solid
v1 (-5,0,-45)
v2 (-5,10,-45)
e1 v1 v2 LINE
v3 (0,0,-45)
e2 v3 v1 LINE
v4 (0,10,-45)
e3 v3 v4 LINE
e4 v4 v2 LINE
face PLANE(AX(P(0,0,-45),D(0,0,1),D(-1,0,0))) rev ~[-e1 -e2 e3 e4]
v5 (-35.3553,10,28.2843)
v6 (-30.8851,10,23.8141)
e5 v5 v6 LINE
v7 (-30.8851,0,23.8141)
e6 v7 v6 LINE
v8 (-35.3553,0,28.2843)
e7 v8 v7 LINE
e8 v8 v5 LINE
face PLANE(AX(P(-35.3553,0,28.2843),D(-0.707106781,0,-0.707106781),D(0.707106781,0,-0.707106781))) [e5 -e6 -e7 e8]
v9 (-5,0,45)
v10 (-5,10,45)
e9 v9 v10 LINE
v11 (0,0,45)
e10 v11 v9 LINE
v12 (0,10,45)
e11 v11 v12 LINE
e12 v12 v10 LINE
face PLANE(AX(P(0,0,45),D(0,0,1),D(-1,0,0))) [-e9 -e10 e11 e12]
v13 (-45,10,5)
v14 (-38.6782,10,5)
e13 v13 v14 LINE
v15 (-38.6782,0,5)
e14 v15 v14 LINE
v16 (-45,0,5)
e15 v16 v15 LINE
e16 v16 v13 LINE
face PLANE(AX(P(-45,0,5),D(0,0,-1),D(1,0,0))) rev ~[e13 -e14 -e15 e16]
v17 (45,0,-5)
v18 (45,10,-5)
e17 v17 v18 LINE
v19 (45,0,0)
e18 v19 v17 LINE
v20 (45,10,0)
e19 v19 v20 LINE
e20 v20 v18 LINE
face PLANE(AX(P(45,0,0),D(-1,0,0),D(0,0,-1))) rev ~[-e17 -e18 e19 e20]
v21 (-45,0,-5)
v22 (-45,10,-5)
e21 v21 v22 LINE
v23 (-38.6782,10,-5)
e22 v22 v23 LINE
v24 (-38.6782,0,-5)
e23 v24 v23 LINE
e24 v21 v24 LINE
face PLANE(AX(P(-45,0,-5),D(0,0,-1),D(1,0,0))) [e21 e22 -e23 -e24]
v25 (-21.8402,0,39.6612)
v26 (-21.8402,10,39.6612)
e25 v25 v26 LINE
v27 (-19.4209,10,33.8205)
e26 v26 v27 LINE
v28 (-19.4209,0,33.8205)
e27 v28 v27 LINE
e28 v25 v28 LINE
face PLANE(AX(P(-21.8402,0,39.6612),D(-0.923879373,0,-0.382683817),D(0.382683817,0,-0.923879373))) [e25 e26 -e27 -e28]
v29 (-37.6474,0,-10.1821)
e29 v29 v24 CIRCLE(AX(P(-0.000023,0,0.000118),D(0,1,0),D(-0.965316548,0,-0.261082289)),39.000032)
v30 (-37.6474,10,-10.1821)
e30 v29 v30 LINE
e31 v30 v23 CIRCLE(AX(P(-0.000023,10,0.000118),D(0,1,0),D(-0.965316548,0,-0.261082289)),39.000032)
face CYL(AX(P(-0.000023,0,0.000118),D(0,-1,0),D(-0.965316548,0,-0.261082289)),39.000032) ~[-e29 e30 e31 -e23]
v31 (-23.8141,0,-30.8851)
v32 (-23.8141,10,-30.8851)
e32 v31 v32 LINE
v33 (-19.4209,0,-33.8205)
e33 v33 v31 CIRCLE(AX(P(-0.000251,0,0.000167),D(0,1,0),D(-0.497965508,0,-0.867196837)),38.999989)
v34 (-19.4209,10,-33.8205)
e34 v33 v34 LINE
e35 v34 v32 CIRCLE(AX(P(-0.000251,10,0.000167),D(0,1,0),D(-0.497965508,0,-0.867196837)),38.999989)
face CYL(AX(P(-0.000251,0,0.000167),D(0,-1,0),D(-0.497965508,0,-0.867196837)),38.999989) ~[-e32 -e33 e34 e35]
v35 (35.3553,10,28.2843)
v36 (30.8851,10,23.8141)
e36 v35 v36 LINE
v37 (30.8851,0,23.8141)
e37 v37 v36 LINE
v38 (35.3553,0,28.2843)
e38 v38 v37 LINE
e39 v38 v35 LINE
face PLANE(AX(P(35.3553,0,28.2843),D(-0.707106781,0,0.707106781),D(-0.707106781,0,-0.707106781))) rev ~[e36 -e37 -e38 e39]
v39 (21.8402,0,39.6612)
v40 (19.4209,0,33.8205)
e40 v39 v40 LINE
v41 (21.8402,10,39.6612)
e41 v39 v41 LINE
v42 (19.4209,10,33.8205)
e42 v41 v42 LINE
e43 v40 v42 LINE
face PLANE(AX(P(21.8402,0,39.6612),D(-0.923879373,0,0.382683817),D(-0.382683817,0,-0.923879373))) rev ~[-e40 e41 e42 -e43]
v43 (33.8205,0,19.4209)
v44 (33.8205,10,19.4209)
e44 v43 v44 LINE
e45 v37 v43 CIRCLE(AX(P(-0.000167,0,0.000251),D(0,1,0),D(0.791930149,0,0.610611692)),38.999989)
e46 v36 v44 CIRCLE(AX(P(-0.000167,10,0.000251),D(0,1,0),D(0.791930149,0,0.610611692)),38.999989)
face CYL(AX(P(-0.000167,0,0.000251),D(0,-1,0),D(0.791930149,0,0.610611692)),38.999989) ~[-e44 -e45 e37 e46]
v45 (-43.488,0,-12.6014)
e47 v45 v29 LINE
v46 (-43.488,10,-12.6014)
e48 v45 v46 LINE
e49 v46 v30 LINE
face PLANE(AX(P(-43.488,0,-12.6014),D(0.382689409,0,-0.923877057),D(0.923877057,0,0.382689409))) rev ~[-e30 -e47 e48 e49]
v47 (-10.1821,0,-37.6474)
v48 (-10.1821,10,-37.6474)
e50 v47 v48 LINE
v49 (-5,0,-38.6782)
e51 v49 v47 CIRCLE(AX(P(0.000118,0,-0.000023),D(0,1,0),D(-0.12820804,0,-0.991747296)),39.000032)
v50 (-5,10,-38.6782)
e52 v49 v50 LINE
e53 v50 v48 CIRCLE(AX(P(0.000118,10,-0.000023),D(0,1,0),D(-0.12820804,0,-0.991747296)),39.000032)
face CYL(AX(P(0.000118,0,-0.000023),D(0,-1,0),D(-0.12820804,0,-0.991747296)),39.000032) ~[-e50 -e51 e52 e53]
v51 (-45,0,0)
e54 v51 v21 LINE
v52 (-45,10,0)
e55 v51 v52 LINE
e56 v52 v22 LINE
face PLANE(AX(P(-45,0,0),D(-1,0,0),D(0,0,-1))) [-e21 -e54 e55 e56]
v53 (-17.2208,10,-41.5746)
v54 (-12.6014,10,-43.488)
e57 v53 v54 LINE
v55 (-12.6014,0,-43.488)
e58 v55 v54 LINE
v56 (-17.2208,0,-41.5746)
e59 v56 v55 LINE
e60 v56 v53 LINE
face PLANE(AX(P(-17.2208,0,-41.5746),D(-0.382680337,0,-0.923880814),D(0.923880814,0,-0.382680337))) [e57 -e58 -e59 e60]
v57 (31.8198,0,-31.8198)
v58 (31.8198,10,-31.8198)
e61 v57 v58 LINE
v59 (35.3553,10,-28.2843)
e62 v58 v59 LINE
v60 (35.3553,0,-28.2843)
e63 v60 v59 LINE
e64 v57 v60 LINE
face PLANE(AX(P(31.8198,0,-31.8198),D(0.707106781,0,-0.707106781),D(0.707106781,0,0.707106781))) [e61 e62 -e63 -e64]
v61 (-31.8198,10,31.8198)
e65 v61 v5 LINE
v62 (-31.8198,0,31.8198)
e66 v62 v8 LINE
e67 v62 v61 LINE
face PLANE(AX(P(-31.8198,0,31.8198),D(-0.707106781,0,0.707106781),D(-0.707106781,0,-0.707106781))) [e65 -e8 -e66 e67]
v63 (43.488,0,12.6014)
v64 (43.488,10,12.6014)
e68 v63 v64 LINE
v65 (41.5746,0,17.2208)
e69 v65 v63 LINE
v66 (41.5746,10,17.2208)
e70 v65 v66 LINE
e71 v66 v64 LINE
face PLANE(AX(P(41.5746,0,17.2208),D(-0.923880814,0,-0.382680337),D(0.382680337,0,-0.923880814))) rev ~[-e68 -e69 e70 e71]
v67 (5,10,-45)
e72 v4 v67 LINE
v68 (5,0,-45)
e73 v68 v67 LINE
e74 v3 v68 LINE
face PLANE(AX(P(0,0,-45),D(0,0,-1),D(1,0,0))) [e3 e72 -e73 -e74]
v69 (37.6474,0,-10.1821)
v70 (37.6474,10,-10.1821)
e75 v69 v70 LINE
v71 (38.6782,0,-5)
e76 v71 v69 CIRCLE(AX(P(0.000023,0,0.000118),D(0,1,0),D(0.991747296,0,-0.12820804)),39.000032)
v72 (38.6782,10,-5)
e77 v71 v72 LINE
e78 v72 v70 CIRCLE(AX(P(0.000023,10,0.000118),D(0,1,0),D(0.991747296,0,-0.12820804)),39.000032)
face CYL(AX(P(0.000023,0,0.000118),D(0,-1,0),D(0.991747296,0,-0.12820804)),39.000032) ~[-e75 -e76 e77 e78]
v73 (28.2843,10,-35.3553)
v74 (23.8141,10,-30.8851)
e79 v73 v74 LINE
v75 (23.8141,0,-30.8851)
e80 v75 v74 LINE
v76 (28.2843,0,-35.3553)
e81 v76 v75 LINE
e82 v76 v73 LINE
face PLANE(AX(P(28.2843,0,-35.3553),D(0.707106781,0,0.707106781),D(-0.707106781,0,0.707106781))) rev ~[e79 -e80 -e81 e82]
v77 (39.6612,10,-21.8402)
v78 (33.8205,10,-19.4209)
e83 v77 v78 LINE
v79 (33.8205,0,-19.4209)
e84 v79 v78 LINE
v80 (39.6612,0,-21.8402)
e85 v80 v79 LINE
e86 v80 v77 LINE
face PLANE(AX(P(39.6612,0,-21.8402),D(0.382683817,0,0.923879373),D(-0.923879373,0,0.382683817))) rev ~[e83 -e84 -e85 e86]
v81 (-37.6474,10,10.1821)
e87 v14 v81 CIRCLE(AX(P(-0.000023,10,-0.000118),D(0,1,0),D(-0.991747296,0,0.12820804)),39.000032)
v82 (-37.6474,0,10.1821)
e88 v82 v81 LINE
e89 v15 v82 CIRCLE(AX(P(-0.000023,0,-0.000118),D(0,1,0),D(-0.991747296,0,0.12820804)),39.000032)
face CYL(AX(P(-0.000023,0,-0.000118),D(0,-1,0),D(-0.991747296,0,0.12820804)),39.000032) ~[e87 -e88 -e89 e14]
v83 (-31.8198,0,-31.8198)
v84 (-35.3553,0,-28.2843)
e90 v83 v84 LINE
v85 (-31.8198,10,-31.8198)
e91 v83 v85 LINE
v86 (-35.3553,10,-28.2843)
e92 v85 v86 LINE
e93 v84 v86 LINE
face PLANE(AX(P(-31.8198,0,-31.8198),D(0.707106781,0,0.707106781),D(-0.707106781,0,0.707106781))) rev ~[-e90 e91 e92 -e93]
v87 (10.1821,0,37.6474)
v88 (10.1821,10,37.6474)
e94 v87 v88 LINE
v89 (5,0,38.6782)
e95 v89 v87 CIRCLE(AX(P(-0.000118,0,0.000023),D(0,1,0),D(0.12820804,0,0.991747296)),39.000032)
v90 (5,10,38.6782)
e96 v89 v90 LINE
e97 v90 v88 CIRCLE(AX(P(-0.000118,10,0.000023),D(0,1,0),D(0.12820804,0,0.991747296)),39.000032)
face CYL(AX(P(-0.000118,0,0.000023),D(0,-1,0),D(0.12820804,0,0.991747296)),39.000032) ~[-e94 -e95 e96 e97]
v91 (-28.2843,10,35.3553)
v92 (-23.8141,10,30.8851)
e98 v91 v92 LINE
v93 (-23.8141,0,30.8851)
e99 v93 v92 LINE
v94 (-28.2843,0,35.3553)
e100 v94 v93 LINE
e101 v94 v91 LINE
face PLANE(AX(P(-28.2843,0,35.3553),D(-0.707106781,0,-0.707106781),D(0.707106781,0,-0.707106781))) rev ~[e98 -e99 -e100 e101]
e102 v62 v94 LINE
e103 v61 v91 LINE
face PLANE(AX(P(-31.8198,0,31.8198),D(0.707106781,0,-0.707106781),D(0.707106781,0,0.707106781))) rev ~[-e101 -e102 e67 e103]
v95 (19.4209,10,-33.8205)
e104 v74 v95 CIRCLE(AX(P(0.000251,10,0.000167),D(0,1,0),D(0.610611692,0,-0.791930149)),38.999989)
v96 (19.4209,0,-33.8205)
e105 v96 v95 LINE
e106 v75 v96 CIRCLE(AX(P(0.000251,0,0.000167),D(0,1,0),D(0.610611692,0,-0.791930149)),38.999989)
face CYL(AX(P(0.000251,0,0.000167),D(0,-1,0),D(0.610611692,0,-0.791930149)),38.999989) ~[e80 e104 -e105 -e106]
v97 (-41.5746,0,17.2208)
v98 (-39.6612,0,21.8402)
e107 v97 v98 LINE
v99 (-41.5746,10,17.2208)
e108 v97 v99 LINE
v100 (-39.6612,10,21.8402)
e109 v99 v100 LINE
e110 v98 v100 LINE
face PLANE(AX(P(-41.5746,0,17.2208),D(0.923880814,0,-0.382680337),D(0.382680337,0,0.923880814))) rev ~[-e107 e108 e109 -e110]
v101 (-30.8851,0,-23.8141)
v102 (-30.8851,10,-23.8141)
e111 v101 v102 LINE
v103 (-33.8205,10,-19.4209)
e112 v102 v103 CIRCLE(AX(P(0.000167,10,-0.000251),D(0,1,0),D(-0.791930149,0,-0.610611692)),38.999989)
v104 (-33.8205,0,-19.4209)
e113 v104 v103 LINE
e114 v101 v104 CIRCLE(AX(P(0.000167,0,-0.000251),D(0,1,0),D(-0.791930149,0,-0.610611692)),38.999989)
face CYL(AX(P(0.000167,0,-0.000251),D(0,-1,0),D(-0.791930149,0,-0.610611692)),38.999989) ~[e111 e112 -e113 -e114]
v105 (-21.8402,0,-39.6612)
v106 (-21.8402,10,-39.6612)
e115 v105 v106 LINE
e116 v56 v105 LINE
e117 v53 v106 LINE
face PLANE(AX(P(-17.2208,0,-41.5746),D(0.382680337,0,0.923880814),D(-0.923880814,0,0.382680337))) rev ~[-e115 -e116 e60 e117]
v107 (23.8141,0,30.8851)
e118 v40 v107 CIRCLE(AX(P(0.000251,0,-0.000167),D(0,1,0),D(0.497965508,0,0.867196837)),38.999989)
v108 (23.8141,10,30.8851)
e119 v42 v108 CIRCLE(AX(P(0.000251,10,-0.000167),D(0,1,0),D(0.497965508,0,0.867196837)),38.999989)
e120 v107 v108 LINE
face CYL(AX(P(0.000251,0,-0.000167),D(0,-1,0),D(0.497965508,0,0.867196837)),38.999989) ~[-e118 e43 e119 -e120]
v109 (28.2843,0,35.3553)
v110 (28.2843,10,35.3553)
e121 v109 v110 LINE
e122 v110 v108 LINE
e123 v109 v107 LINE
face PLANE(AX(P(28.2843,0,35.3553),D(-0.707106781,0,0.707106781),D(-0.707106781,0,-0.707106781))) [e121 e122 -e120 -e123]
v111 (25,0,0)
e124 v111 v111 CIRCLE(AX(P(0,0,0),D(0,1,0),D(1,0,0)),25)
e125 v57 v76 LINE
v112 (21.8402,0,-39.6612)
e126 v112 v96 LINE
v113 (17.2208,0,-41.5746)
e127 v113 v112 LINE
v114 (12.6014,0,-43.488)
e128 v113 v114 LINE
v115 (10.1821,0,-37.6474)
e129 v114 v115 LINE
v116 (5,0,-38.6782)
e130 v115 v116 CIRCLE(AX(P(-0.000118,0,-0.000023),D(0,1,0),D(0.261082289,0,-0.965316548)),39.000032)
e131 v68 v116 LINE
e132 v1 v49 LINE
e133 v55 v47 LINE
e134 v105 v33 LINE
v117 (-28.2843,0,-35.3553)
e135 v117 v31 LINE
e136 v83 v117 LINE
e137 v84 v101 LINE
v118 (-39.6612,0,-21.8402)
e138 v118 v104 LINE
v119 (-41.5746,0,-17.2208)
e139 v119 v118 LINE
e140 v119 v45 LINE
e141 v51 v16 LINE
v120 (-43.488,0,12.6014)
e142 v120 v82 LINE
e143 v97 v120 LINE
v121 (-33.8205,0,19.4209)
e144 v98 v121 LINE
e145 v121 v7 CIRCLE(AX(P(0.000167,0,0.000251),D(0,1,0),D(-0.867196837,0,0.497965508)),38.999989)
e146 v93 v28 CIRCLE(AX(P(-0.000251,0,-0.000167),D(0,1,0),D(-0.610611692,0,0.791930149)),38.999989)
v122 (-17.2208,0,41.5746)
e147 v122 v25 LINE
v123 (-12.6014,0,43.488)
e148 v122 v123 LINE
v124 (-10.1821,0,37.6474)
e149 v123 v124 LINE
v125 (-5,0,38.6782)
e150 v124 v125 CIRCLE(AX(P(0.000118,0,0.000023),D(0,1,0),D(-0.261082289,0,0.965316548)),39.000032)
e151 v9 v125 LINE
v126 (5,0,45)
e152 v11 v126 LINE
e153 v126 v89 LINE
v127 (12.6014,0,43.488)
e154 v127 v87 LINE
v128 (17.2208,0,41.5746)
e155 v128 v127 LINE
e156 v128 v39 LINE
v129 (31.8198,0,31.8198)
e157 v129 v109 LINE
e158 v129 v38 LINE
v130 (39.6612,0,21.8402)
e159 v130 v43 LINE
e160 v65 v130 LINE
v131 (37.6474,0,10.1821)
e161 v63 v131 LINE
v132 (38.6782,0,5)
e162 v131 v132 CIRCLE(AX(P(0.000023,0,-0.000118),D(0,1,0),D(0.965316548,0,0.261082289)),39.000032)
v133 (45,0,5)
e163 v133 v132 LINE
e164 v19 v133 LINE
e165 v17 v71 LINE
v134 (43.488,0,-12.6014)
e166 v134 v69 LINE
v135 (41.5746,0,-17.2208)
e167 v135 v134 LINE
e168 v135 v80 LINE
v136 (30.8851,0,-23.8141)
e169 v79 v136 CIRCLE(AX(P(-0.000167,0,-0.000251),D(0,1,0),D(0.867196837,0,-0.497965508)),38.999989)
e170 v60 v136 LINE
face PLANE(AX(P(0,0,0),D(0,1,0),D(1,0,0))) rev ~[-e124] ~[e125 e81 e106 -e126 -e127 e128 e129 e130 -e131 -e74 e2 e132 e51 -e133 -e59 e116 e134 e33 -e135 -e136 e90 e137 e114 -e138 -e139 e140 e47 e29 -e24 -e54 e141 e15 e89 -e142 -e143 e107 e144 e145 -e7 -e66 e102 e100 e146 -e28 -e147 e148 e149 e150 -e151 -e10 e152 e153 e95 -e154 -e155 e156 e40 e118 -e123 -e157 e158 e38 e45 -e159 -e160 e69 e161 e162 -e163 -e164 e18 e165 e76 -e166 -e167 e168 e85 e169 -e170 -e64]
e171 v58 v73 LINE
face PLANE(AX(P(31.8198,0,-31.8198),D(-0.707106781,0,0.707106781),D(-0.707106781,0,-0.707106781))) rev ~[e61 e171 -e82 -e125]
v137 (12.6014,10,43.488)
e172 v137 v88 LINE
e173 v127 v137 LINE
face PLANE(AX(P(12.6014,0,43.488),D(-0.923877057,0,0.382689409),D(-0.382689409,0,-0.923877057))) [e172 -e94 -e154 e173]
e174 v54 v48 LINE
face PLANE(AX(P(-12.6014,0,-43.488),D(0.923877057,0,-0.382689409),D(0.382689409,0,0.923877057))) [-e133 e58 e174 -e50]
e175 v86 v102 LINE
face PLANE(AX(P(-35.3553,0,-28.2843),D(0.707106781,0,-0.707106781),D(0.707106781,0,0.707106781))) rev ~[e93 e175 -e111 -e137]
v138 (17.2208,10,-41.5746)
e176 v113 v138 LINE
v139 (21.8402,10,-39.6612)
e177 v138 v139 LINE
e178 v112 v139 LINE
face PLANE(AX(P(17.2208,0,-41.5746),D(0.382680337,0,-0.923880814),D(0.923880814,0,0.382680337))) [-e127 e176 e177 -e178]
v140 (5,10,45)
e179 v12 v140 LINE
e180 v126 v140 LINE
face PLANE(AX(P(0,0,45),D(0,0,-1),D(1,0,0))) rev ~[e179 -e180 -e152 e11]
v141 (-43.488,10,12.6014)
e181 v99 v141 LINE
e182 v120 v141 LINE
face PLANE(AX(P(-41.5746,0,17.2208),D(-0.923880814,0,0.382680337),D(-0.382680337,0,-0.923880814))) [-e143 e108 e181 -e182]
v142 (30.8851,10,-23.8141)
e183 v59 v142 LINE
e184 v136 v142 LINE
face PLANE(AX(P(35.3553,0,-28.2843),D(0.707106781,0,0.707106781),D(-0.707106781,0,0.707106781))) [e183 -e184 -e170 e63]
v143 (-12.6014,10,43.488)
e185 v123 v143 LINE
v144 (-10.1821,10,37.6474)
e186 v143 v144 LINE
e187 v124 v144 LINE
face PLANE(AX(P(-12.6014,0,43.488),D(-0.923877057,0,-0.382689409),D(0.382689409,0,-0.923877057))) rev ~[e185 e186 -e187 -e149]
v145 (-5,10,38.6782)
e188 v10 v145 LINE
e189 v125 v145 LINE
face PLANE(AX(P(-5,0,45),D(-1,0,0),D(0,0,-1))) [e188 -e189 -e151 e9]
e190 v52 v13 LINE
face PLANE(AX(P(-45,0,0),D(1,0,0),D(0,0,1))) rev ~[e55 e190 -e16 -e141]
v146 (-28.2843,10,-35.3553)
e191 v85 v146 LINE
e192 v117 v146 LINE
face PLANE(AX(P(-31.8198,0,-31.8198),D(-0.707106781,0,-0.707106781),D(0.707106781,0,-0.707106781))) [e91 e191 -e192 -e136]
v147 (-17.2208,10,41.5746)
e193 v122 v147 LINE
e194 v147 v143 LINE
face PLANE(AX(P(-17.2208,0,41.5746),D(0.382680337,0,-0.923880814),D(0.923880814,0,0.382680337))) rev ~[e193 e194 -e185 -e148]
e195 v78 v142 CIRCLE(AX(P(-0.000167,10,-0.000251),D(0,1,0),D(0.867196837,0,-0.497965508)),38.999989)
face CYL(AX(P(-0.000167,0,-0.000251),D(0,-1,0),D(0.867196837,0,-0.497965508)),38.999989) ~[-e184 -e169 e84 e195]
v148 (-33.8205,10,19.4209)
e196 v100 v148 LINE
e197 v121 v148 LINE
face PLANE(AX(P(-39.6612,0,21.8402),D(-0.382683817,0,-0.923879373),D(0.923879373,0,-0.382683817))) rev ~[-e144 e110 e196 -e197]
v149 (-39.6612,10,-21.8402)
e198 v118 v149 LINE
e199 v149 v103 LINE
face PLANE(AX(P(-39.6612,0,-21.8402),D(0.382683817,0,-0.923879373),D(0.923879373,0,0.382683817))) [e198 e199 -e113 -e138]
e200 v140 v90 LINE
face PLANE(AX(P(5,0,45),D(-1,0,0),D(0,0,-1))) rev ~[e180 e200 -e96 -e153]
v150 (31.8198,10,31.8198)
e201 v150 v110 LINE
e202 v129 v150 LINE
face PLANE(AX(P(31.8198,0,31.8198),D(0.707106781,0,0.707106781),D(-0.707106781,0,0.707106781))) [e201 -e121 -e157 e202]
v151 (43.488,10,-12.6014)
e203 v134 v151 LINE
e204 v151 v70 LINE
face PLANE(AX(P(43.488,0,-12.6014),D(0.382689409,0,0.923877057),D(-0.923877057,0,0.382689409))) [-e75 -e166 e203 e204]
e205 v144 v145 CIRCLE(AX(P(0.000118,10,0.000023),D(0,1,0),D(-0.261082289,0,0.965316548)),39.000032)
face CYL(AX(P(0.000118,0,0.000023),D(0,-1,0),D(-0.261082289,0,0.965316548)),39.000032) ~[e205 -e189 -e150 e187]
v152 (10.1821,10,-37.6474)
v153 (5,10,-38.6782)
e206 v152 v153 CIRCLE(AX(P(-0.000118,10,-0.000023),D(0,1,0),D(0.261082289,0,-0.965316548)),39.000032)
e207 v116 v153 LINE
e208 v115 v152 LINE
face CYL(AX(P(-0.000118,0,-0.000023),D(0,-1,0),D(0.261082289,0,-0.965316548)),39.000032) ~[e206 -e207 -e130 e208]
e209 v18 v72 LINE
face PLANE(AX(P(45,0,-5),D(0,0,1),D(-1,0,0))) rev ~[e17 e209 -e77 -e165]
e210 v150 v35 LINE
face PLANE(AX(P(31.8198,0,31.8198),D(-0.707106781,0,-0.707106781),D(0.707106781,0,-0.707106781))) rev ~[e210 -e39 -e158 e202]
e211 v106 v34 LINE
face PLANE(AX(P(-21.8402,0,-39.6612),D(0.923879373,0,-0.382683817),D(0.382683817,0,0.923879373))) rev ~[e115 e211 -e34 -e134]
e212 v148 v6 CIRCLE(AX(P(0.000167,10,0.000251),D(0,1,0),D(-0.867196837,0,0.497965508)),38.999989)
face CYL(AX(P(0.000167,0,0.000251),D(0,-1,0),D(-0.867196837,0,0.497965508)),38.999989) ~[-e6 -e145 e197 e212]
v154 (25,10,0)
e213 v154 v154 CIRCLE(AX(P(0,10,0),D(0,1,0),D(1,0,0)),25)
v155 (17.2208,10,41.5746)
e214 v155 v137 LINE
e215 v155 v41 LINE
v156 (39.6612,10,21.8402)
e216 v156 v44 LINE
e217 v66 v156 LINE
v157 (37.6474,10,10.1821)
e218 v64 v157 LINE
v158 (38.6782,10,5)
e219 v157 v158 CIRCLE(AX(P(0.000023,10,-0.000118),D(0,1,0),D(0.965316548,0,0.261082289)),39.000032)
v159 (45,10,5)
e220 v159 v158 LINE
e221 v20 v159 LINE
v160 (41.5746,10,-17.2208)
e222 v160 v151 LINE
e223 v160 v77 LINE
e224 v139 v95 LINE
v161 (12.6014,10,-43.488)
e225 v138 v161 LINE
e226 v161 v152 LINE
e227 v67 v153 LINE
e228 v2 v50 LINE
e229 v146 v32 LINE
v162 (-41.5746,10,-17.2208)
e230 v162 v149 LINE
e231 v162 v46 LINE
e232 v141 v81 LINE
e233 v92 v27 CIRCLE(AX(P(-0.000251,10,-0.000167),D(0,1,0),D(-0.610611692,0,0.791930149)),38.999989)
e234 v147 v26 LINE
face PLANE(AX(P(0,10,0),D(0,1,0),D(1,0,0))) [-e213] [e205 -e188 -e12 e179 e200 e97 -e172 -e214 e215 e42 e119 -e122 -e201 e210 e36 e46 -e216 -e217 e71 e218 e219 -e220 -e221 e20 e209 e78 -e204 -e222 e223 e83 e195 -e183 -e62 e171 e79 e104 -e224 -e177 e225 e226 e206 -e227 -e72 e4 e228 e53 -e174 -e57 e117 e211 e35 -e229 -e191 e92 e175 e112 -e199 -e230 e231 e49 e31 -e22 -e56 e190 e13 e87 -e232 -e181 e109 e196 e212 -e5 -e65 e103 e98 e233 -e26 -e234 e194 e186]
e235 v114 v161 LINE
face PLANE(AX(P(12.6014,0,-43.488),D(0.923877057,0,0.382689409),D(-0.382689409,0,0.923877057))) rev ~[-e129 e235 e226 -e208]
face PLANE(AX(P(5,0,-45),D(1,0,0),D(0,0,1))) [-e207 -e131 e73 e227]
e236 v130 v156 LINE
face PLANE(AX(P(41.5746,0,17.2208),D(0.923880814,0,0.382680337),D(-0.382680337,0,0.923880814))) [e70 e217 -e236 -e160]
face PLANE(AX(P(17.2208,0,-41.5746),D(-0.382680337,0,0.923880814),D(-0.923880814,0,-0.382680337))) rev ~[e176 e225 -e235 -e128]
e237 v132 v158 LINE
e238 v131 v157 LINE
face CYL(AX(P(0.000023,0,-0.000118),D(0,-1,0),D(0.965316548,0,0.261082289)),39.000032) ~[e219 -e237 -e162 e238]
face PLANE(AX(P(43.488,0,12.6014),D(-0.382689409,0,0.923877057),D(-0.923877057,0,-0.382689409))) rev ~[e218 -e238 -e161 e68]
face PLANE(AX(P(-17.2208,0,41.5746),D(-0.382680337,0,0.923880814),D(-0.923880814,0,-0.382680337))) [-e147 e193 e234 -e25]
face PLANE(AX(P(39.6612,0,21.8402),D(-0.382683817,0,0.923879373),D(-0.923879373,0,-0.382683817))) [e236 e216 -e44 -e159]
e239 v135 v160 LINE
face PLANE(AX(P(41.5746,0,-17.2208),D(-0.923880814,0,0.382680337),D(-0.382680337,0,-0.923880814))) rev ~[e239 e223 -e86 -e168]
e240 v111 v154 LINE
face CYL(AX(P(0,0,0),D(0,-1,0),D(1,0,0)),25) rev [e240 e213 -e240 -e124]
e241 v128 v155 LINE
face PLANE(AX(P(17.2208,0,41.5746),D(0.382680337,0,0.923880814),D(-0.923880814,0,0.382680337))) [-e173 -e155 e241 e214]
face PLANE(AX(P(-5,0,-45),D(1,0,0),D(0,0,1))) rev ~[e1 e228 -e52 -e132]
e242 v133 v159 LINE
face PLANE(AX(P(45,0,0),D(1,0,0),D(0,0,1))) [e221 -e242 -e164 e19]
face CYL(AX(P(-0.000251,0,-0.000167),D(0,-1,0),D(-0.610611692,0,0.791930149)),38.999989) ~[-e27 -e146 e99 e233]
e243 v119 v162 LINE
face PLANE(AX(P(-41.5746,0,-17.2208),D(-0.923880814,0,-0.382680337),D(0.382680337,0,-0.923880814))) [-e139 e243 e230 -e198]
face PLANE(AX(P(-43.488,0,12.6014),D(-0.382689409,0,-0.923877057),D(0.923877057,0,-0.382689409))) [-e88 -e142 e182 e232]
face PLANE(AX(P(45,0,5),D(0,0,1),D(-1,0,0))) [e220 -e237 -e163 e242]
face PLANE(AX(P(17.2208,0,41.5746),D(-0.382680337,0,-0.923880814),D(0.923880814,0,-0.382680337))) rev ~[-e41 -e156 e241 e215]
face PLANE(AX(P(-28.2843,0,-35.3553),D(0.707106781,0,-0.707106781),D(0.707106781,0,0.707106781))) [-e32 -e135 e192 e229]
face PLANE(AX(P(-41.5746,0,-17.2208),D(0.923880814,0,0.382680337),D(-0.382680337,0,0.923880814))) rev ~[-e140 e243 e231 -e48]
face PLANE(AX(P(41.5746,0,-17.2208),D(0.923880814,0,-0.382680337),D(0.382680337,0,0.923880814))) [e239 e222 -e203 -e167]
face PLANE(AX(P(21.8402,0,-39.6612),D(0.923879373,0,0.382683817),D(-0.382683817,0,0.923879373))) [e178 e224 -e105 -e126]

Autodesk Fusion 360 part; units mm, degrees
sketch "Sketch1" plane through (0, 0, 0) normal (0, 1, 0) x (1, 0, 0)
  circle A0 centre (0, 0) radius 25
  line L0 (0, 0) -> (0, -50) construction
  line L1 (0, -45) -> (-5, -45)
  line L2 (-5, -45) -> (-5, -38.6782)
  line L3 (5, -45) -> (5, -38.6782)
  line L4 (0, -45) -> (5, -45)
  line L5 (12.6014, -43.488) -> (10.1821, -37.6474)
  line L6 (17.2208, -41.5746) -> (12.6014, -43.488)
  line L7 (17.2208, -41.5746) -> (21.8402, -39.6612)
  line L8 (21.8402, -39.6612) -> (19.4209, -33.8205)
  line L9 (28.2843, -35.3553) -> (23.8141, -30.8851)
  line L10 (31.8198, -31.8198) -> (28.2843, -35.3553)
  line L11 (31.8198, -31.8198) -> (35.3553, -28.2843)
  line L12 (35.3553, -28.2843) -> (30.8851, -23.8141)
  line L13 (39.6612, -21.8402) -> (33.8205, -19.4209)
  line L14 (41.5746, -17.2208) -> (39.6612, -21.8402)
  line L15 (41.5746, -17.2208) -> (43.488, -12.6014)
  line L16 (43.488, -12.6014) -> (37.6474, -10.1821)
  line L17 (45, -5) -> (38.6782, -5)
  line L18 (45, 0) -> (45, -5)
  line L19 (45, 0) -> (45, 5)
  line L20 (45, 5) -> (38.6782, 5)
  line L21 (43.488, 12.6014) -> (37.6474, 10.1821)
  line L22 (41.5746, 17.2208) -> (43.488, 12.6014)
  line L23 (41.5746, 17.2208) -> (39.6612, 21.8402)
  line L24 (39.6612, 21.8402) -> (33.8205, 19.4209)
  line L25 (35.3553, 28.2843) -> (30.8851, 23.8141)
  line L26 (31.8198, 31.8198) -> (35.3553, 28.2843)
  line L27 (31.8198, 31.8198) -> (28.2843, 35.3553)
  line L28 (28.2843, 35.3553) -> (23.8141, 30.8851)
  line L29 (21.8402, 39.6612) -> (19.4209, 33.8205)
  line L30 (17.2208, 41.5746) -> (21.8402, 39.6612)
  line L31 (17.2208, 41.5746) -> (12.6014, 43.488)
  line L32 (12.6014, 43.488) -> (10.1821, 37.6474)
  line L33 (5, 45) -> (5, 38.6782)
  line L34 (0, 45) -> (5, 45)
  line L35 (0, 45) -> (-5, 45)
  line L36 (-5, 45) -> (-5, 38.6782)
  line L37 (-12.6014, 43.488) -> (-10.1821, 37.6474)
  line L38 (-17.2208, 41.5746) -> (-12.6014, 43.488)
  line L39 (-17.2208, 41.5746) -> (-21.8402, 39.6612)
  line L40 (-21.8402, 39.6612) -> (-19.4209, 33.8205)
  line L41 (-28.2843, 35.3553) -> (-23.8141, 30.8851)
  line L42 (-31.8198, 31.8198) -> (-28.2843, 35.3553)
  line L43 (-31.8198, 31.8198) -> (-35.3553, 28.2843)
  line L44 (-35.3553, 28.2843) -> (-30.8851, 23.8141)
  line L45 (-39.6612, 21.8402) -> (-33.8205, 19.4209)
  line L46 (-41.5746, 17.2208) -> (-39.6612, 21.8402)
  line L47 (-41.5746, 17.2208) -> (-43.488, 12.6014)
  line L48 (-43.488, 12.6014) -> (-37.6474, 10.1821)
  line L49 (-45, 5) -> (-38.6782, 5)
  line L50 (-45, 0) -> (-45, 5)
  line L51 (-45, 0) -> (-45, -5)
  line L52 (-45, -5) -> (-38.6782, -5)
  line L53 (-43.488, -12.6014) -> (-37.6474, -10.1821)
  line L54 (-41.5746, -17.2208) -> (-43.488, -12.6014)
  line L55 (-41.5746, -17.2208) -> (-39.6612, -21.8402)
  line L56 (-39.6612, -21.8402) -> (-33.8205, -19.4209)
  line L57 (-35.3553, -28.2843) -> (-30.8851, -23.8141)
  line L58 (-31.8198, -31.8198) -> (-35.3553, -28.2843)
  line L59 (-31.8198, -31.8198) -> (-28.2843, -35.3553)
  line L60 (-28.2843, -35.3553) -> (-23.8141, -30.8851)
  line L61 (-21.8402, -39.6612) -> (-19.4209, -33.8205)
  line L62 (-17.2208, -41.5746) -> (-21.8402, -39.6612)
  line L63 (-17.2208, -41.5746) -> (-12.6014, -43.488)
  line L64 (-12.6014, -43.488) -> (-10.1821, -37.6474)
  arc A1 (-10.1821, -37.6474) -> (-5, -38.6782) centre (0, 0) ccw
  arc A2 (-23.8141, -30.8851) -> (-19.4209, -33.8205) centre (0, 0) ccw
  arc A3 (-33.8205, -19.4209) -> (-30.8851, -23.8141) centre (0, 0) ccw
  arc A4 (-38.6782, -5) -> (-37.6474, -10.1821) centre (0, 0) ccw
  arc A5 (-37.6474, 10.1821) -> (-38.6782, 5) centre (0, 0) ccw
  arc A6 (-30.8851, 23.8141) -> (-33.8205, 19.4209) centre (0, 0) ccw
  arc A7 (-19.4209, 33.8205) -> (-23.8141, 30.8851) centre (0, 0) ccw
  arc A8 (-5, 38.6782) -> (-10.1821, 37.6474) centre (0, 0) ccw
  arc A9 (10.1821, 37.6474) -> (5, 38.6782) centre (0, 0) ccw
  arc A10 (23.8141, 30.8851) -> (19.4209, 33.8205) centre (0, 0) ccw
  arc A11 (38.6782, 5) -> (37.6474, 10.1821) centre (0, 0) ccw
  arc A12 (33.8205, 19.4209) -> (30.8851, 23.8141) centre (0, 0) ccw
  arc A13 (37.6474, -10.1821) -> (38.6782, -5) centre (0, 0) ccw
  arc A14 (30.8851, -23.8141) -> (33.8205, -19.4209) centre (0, 0) ccw
  arc A15 (5, -38.6782) -> (10.1821, -37.6474) centre (0, 0) ccw
  arc A16 (19.4209, -33.8205) -> (23.8141, -30.8851) centre (0, 0) ccw
  dimension "d1" = 50
  dimension "d2" = 78
  dimension "d4" = 5
extrude "Extrude1" add sketch "Sketch1" along normal blind 10
